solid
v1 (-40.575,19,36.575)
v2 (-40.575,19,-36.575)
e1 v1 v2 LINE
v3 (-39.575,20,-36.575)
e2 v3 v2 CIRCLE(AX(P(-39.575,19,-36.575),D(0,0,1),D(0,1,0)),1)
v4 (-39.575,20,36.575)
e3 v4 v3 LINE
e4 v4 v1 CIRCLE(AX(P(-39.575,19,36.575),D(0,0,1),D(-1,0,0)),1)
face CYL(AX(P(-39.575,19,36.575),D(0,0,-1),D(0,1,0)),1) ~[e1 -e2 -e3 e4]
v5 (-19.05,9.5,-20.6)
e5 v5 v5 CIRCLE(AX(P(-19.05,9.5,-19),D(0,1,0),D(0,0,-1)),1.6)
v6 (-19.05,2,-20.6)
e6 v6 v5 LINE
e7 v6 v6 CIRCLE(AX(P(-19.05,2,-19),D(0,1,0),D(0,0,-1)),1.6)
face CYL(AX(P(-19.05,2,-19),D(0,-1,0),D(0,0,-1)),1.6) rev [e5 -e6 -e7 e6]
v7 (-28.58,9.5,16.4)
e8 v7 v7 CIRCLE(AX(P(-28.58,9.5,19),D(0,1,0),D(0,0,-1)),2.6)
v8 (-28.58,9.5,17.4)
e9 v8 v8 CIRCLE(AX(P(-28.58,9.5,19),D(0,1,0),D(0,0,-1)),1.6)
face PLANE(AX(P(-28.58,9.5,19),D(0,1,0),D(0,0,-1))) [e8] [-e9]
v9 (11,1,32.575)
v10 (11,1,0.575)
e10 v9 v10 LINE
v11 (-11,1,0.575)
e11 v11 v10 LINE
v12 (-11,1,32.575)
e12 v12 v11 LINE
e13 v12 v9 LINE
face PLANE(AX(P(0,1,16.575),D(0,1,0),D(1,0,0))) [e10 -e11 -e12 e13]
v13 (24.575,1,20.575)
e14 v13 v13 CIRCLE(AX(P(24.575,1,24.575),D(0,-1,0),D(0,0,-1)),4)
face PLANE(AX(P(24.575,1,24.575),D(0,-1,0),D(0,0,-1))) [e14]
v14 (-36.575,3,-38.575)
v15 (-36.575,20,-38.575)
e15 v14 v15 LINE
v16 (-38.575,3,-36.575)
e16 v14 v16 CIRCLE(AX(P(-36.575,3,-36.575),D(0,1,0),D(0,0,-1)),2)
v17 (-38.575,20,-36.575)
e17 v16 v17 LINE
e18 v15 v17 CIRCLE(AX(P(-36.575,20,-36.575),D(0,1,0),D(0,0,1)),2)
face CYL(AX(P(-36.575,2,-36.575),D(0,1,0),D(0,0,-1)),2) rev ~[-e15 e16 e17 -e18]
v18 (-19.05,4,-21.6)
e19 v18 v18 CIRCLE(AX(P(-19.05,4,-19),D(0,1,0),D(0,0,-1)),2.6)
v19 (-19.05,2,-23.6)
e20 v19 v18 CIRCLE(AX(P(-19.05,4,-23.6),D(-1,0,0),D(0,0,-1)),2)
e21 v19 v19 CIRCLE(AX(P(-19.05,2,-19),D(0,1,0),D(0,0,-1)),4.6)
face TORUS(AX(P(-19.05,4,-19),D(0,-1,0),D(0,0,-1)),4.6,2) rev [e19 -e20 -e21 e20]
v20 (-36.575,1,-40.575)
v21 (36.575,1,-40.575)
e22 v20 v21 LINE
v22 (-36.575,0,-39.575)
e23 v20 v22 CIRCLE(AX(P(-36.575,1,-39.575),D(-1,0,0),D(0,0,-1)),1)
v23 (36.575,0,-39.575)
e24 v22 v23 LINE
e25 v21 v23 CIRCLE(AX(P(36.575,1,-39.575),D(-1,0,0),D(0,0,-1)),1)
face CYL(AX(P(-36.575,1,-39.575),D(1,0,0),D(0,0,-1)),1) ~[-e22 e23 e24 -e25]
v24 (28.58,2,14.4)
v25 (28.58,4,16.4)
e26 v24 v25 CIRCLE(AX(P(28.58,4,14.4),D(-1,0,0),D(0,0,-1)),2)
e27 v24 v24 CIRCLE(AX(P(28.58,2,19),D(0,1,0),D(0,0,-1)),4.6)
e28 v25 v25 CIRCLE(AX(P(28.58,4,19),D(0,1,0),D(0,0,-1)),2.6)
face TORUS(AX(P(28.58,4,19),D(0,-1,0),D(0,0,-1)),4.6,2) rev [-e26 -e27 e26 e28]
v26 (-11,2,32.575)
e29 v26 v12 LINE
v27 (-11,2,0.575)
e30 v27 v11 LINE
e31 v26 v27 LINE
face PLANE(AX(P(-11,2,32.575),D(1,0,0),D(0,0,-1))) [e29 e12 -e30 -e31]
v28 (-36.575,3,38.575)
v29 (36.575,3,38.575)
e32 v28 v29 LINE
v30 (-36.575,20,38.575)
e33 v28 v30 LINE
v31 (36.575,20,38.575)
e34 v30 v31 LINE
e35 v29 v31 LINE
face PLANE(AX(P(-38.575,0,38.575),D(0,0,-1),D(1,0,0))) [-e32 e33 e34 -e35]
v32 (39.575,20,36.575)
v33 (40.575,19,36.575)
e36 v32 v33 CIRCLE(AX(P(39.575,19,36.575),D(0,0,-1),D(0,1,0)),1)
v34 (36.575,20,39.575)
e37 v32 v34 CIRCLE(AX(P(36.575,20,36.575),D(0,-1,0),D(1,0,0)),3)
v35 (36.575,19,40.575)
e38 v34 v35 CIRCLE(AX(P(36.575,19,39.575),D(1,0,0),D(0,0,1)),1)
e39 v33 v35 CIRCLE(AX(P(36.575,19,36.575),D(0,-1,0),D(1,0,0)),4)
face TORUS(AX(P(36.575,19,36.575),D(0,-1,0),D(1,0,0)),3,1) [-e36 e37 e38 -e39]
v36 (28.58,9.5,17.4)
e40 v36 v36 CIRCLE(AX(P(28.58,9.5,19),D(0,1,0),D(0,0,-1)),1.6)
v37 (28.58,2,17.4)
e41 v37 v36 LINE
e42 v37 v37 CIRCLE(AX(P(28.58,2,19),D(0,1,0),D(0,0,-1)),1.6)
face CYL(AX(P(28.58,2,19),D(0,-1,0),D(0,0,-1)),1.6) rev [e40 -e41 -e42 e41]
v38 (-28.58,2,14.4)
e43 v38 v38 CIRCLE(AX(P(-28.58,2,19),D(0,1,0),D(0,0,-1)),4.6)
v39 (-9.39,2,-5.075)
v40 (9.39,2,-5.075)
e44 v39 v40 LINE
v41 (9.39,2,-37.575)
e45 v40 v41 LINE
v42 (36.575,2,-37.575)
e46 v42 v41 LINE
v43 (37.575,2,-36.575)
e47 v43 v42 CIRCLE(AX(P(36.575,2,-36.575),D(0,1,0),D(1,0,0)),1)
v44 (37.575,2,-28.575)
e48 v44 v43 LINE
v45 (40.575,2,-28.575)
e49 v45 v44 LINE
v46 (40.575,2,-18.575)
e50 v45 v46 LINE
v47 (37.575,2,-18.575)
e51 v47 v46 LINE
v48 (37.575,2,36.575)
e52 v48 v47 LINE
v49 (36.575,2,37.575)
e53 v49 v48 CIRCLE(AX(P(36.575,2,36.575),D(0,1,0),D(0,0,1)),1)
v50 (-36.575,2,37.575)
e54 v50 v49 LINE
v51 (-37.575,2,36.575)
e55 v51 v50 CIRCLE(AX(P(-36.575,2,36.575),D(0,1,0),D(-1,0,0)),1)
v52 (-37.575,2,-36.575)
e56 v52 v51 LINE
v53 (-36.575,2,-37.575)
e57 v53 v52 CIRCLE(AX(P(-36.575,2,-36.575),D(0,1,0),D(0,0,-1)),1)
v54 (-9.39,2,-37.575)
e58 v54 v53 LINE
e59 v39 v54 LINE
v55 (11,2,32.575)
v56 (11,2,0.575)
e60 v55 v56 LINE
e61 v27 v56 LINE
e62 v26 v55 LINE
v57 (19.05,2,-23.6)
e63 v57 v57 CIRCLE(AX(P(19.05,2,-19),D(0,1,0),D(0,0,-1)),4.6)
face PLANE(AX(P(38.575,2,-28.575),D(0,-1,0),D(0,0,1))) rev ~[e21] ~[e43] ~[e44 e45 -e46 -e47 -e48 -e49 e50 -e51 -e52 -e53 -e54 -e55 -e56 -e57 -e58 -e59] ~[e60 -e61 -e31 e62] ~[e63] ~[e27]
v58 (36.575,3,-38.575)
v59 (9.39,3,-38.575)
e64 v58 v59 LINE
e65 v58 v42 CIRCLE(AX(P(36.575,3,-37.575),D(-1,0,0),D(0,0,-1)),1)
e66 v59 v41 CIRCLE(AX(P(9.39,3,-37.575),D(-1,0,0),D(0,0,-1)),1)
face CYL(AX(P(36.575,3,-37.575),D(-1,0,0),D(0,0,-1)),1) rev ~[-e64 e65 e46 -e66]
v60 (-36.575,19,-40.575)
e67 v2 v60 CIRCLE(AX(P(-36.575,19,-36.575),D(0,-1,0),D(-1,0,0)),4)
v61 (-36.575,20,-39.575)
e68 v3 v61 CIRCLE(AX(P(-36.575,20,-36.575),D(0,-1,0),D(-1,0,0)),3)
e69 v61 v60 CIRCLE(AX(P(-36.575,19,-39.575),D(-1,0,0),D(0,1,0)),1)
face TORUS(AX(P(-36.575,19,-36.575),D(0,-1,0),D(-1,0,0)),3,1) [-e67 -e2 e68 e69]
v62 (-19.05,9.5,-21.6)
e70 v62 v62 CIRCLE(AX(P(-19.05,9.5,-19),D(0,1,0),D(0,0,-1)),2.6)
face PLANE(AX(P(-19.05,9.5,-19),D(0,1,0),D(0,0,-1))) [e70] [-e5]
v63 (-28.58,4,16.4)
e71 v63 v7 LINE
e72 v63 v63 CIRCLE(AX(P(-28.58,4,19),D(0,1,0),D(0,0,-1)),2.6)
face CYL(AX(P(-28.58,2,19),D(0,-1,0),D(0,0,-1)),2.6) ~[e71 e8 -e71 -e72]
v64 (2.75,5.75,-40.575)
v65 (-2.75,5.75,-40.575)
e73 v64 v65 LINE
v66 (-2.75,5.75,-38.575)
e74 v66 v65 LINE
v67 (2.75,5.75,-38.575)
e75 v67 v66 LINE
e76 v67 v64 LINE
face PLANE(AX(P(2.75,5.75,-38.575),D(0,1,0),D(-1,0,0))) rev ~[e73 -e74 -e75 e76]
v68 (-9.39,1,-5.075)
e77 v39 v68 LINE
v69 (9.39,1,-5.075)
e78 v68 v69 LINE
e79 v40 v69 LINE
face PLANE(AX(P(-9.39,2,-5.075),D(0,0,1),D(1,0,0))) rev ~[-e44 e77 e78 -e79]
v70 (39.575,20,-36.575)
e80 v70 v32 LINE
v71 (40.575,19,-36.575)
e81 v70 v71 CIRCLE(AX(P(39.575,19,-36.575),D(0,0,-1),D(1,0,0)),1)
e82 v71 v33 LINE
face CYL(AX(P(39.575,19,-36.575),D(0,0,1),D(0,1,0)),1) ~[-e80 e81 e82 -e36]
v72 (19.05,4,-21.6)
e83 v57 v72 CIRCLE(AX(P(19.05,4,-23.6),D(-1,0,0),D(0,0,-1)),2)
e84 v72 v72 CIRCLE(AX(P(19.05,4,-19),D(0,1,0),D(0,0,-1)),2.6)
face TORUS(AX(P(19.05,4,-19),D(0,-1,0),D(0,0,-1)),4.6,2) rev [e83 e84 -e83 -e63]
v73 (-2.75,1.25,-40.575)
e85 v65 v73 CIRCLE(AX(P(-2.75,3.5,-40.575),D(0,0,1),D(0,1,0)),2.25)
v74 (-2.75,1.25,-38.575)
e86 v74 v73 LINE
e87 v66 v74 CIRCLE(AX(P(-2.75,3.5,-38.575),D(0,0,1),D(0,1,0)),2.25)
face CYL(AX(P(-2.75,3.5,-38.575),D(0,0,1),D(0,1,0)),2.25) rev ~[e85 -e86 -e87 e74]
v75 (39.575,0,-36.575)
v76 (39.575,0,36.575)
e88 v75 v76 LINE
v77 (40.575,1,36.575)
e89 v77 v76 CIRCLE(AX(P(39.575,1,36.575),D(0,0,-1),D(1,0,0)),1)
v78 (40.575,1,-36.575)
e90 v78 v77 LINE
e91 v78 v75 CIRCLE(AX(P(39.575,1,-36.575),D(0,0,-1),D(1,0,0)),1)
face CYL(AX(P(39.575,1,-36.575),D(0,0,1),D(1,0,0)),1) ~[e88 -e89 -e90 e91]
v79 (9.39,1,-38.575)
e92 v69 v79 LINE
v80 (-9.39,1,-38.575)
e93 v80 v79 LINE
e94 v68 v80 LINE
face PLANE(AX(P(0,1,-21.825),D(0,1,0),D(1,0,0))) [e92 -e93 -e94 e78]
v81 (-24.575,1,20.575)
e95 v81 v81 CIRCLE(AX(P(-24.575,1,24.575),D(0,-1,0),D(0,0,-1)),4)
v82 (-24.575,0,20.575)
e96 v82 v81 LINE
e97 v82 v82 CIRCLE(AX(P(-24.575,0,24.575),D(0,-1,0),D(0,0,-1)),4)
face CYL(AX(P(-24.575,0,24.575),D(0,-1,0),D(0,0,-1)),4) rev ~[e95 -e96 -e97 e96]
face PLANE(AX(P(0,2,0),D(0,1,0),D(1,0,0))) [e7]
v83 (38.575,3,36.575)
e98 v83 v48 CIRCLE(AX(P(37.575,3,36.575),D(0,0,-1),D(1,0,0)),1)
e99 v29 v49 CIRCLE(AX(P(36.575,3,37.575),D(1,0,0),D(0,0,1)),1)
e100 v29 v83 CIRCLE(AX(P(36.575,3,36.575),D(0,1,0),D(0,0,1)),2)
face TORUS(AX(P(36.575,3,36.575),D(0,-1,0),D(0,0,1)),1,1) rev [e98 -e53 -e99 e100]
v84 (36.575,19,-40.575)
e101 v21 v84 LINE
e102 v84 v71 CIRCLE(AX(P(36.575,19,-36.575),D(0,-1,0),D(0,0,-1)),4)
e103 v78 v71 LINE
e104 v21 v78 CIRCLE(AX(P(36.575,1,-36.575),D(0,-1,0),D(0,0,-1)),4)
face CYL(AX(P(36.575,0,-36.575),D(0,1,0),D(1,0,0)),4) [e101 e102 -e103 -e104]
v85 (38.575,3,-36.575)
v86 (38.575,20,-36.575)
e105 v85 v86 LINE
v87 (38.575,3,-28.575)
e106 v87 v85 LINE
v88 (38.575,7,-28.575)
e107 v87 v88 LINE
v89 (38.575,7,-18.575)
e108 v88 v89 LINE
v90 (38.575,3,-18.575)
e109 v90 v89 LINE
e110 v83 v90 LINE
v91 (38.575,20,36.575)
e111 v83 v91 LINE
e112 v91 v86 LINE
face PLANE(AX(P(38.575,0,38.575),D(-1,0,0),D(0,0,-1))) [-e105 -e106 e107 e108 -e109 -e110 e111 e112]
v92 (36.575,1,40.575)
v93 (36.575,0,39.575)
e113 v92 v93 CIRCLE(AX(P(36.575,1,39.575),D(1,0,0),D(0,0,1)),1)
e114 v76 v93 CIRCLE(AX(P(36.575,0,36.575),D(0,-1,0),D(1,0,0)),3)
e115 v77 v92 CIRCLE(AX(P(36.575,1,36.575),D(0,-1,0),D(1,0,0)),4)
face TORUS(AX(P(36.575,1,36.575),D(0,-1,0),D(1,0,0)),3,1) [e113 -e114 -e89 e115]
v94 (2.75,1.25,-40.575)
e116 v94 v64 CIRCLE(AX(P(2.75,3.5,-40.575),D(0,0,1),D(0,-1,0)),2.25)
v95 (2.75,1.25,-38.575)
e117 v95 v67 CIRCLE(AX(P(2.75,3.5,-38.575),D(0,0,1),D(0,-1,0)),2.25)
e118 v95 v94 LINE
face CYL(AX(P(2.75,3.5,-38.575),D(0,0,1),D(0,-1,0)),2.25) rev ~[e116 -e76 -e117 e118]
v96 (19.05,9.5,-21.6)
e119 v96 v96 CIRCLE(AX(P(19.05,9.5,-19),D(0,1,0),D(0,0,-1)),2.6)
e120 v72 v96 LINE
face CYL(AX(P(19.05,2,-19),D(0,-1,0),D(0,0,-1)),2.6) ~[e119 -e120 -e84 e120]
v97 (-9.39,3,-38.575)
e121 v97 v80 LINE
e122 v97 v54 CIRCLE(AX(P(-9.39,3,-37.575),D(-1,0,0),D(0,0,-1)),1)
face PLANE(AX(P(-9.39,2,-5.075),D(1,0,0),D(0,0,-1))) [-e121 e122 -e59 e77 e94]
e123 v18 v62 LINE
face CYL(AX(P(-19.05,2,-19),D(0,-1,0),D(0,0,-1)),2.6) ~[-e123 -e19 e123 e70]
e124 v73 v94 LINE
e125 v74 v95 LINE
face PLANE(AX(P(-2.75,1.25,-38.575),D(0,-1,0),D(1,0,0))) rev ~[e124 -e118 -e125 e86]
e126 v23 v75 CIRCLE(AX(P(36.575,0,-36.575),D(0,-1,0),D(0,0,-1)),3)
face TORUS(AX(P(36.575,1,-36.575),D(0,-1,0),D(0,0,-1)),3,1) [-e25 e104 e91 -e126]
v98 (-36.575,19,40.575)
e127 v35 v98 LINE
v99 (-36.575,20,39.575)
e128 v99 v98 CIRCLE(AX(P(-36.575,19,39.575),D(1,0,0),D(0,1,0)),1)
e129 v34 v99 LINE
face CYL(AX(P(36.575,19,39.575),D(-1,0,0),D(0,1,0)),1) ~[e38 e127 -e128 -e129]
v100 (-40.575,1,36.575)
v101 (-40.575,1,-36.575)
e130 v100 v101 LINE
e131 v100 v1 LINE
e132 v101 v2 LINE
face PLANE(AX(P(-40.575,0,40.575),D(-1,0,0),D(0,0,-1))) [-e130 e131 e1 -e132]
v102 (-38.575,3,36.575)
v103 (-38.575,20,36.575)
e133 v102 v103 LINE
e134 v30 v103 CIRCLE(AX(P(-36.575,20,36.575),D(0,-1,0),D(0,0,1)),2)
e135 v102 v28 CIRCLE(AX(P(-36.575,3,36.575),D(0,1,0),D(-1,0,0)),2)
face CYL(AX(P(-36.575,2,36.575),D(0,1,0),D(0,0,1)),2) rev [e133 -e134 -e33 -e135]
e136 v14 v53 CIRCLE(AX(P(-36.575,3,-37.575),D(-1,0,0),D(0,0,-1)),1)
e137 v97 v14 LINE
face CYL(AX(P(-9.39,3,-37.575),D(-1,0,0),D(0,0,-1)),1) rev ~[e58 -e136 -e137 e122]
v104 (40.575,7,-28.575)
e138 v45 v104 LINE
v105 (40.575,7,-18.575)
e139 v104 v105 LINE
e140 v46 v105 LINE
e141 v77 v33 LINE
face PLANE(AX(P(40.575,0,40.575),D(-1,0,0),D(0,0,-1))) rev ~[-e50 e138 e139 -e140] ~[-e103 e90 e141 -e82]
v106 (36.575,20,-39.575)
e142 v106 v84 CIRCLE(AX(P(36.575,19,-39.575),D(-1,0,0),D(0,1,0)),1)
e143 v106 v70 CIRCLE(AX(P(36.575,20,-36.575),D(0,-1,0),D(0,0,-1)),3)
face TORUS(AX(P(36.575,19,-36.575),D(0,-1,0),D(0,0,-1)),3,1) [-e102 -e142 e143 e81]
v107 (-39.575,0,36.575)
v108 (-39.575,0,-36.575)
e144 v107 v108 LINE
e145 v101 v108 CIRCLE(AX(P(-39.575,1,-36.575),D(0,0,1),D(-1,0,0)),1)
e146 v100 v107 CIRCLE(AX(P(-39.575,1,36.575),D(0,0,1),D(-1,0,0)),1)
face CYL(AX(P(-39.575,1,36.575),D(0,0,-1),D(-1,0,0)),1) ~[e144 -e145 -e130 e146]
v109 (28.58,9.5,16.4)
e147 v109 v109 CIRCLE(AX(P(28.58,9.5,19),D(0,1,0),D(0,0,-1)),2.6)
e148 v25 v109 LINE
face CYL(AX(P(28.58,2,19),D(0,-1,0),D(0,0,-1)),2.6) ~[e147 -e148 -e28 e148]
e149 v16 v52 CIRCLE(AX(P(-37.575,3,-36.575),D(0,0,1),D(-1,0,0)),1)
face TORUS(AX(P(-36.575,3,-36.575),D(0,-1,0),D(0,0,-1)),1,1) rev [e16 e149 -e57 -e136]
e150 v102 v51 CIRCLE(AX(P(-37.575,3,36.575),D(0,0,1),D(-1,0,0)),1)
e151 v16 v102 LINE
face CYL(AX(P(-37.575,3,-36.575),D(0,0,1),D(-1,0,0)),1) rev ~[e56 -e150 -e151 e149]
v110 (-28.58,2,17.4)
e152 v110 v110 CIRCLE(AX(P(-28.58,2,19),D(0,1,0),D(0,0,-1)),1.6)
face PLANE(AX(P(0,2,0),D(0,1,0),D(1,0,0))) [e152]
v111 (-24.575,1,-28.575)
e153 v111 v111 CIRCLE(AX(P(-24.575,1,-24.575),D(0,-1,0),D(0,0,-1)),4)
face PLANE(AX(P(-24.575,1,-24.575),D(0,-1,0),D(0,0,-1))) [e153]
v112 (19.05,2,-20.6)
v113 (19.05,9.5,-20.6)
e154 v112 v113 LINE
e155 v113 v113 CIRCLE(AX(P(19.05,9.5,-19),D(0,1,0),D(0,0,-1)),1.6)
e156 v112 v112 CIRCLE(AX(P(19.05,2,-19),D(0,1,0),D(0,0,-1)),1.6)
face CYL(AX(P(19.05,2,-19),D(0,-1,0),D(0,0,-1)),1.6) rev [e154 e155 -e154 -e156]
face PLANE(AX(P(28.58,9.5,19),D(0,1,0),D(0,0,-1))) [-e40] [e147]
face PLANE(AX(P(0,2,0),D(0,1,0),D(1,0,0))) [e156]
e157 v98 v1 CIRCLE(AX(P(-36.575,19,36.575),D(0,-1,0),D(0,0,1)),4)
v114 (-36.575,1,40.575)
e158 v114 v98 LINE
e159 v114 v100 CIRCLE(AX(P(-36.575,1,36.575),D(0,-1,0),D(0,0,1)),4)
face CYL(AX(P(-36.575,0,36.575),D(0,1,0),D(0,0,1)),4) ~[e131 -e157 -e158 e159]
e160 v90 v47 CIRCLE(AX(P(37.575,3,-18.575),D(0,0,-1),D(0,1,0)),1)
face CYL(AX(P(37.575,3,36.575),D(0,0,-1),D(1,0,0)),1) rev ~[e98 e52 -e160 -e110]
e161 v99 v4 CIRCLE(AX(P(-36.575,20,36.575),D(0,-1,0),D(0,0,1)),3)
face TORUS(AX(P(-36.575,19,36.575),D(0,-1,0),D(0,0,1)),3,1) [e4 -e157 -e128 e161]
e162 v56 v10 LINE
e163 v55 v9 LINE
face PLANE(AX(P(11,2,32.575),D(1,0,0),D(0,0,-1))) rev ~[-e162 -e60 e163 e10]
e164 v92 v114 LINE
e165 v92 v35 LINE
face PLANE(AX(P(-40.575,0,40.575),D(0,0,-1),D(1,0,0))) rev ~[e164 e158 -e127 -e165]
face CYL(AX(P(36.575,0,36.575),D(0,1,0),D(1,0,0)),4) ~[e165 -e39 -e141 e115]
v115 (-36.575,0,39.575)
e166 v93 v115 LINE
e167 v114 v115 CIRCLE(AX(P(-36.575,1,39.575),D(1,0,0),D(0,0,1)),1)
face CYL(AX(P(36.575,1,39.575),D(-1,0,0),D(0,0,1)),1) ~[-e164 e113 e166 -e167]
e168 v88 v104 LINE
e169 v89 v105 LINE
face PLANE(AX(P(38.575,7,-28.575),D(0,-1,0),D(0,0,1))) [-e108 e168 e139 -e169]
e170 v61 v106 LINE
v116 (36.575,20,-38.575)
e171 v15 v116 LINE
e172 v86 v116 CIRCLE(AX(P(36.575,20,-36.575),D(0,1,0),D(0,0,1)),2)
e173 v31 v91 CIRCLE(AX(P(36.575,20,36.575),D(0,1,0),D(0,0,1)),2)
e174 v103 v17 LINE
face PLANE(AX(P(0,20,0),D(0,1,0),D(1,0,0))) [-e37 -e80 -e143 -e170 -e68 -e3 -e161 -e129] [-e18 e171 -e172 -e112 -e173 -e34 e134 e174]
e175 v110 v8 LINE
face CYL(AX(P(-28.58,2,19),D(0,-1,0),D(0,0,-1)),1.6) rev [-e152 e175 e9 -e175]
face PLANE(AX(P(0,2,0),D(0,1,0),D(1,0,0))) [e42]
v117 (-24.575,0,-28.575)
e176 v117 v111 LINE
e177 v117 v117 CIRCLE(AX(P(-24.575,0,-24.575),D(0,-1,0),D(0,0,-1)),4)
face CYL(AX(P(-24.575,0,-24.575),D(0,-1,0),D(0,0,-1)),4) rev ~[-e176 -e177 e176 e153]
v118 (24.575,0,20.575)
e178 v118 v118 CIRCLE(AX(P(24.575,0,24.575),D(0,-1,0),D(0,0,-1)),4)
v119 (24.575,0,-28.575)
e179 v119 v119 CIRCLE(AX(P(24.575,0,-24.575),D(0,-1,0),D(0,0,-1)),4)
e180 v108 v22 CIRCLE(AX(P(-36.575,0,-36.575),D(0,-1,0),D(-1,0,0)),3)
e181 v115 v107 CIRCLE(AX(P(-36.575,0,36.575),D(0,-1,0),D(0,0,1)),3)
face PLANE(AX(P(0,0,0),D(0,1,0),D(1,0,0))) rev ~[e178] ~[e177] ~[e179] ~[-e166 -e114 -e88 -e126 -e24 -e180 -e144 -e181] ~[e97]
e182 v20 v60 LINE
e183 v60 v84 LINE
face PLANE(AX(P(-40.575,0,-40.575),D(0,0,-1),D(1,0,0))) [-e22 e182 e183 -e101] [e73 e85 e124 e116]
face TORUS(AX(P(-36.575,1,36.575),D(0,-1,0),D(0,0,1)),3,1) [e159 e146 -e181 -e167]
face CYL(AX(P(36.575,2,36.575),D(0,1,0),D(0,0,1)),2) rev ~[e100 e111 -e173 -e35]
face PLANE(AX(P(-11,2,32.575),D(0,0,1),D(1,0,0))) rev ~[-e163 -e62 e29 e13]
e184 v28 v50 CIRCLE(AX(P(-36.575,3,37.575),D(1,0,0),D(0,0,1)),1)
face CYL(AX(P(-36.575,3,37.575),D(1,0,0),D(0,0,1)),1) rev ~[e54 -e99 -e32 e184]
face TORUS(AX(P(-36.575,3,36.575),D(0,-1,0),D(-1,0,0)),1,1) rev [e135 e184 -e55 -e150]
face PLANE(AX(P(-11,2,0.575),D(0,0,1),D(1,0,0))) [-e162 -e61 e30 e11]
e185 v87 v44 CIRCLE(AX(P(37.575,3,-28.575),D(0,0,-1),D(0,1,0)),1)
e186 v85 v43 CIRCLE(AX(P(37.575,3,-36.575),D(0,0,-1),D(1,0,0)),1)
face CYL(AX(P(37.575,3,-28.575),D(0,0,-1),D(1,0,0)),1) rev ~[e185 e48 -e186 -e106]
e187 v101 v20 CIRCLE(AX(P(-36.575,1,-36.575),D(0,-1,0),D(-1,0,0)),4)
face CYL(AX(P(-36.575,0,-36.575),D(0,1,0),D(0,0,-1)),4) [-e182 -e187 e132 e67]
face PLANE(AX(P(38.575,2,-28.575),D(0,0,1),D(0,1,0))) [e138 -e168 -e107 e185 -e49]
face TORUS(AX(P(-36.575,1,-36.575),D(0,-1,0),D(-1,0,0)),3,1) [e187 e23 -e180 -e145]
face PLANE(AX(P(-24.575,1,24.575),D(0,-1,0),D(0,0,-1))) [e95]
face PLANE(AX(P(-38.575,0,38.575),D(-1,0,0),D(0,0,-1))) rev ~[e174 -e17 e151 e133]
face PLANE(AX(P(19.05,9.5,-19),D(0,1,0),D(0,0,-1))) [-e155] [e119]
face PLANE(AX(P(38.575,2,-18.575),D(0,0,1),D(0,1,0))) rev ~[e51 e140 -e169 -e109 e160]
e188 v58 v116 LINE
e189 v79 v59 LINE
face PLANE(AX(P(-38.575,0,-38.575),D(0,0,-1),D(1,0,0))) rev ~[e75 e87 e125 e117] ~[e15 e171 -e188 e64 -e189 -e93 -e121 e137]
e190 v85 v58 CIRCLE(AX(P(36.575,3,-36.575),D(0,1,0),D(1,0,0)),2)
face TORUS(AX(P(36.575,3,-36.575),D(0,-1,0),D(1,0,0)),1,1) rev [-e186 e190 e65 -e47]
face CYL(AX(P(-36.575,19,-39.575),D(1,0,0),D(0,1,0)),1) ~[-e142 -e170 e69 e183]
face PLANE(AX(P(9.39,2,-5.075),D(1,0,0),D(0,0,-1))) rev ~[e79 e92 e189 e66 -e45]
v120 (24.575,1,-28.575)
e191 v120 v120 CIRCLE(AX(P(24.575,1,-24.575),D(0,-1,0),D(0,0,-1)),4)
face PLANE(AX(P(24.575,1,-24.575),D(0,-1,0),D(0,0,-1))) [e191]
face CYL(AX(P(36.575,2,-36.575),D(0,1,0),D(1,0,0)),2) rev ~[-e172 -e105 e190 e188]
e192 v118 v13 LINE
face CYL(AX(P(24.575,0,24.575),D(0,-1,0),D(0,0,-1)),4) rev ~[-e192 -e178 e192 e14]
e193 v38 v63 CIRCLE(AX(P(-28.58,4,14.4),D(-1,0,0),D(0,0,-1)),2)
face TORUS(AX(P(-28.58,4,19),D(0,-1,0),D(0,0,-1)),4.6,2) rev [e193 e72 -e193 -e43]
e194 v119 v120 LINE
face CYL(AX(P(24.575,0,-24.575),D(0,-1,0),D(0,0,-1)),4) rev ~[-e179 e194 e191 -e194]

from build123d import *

# Parameters (mm, degrees)
SKETCH1_W           = 77.15
SKETCH1_H           = 77.15
BOSS_EXTRUDE1_DEPTH = 2
SKETCH2_W           = 81.15
SKETCH2_H           = 81.15
SKETCH2_W_2         = 77.15
SKETCH2_H_2         = 77.15
BOSS_EXTRUDE2_DEPTH = 20
SKETCH3_R           = 2.6
SKETCH3_R_2         = 1.6
BOSS_EXTRUDE4_DEPTH = 7.5
SKETCH18_W          = 22
SKETCH18_H          = 32
SKETCH18_W_2        = 18.78
SKETCH18_H_2        = 33.5
CUT_EXTRUDE4_DEPTH  = 1
SKETCH7_R           = 4
CUT_EXTRUDE1_DEPTH  = 1
CUT_EXTRUDE2_DEPTH  = 2
SKETCH16_W          = 10
SKETCH16_H          = 5
CUT_EXTRUDE3_DEPTH  = 2
FILLET1_R           = 2
FILLET6_R           = 4
FILLET7_R           = 2
FILLET5_R           = 1
FILLET9_R           = 1


with BuildPart() as part:
    # Sketch1 → Boss-Extrude1 (new body)
    with BuildSketch(Plane(origin=(0, 0, 0), x_dir=(1, 0, 0), z_dir=(0, 1, 0))):
        Rectangle(SKETCH1_W, SKETCH1_H)
    extrude(amount=BOSS_EXTRUDE1_DEPTH)

    # Sketch2 → Boss-Extrude2 (add)
    with BuildSketch(Plane(origin=(0, 0, 0), x_dir=(1, 0, 0), z_dir=(0, 1, 0))):
        Rectangle(SKETCH2_W, SKETCH2_H)
        Rectangle(SKETCH2_W_2, SKETCH2_H_2, mode=Mode.SUBTRACT)
    extrude(amount=BOSS_EXTRUDE2_DEPTH)

    # Sketch3 → Boss-Extrude4 (add)
    # profile 1 of 4: a face of its own
    with BuildSketch(Plane(origin=(0, 2, 0), x_dir=(1, 0, 0), z_dir=(0, 1, 0))):
        with Locations(Location((-28.58, -19, 0), (0, 0, 90))):
            Circle(SKETCH3_R)
        with Locations(Location((-28.58, -19, 0), (0, 0, 90))):
            Circle(SKETCH3_R_2, mode=Mode.SUBTRACT)
    # profile 2 of 4: a face of its own
    with BuildSketch(Plane(origin=(0, 2, 0), x_dir=(1, 0, 0), z_dir=(0, 1, 0))):
        with Locations(Location((-19.05, 19, 0), (0, 0, 90))):
            Circle(SKETCH3_R)
        with Locations(Location((-19.05, 19, 0), (0, 0, 90))):
            Circle(SKETCH3_R_2, mode=Mode.SUBTRACT)
    # profile 3 of 4: a face of its own
    with BuildSketch(Plane(origin=(0, 2, 0), x_dir=(1, 0, 0), z_dir=(0, 1, 0))):
        with Locations(Location((28.58, -19, 0), (0, 0, 90))):
            Circle(SKETCH3_R)
        with Locations(Location((28.58, -19, 0), (0, 0, 90))):
            Circle(SKETCH3_R_2, mode=Mode.SUBTRACT)
    # profile 4 of 4: a face of its own
    with BuildSketch(Plane(origin=(0, 2, 0), x_dir=(1, 0, 0), z_dir=(0, 1, 0))):
        with Locations(Location((19.05, 19, 0), (0, 0, 90))):
            Circle(SKETCH3_R)
        with Locations(Location((19.05, 19, 0), (0, 0, 90))):
            Circle(SKETCH3_R_2, mode=Mode.SUBTRACT)
    extrude(amount=BOSS_EXTRUDE4_DEPTH)

    # Sketch18 → Cut-Extrude4 (cut)
    with BuildSketch(Plane(origin=(0, 2, 0), x_dir=(1, 0, 0), z_dir=(0, 1, 0))):
        with Locations((0, -16.575)):
            Rectangle(SKETCH18_W, SKETCH18_H)
        with Locations((0, 21.825)):
            Rectangle(SKETCH18_W_2, SKETCH18_H_2)
    extrude(amount=-CUT_EXTRUDE4_DEPTH, mode=Mode.SUBTRACT)

    # Sketch7 → Cut-Extrude1 (cut)
    with BuildSketch(Plane.XZ):
        with Locations(Location((-24.575, -24.575, 0), (0, 0, 270))):
            Circle(SKETCH7_R)
        with Locations(Location((-24.575, 24.575, 0), (0, 0, 270))):
            Circle(SKETCH7_R)
        with Locations(Location((24.575, 24.575, 0), (0, 0, 270))):
            Circle(SKETCH7_R)
        with Locations(Location((24.575, -24.575, 0), (0, 0, 270))):
            Circle(SKETCH7_R)
    extrude(amount=-CUT_EXTRUDE1_DEPTH, mode=Mode.SUBTRACT)

    # Sketch10 → Cut-Extrude2 (cut)
    with BuildSketch(Plane(origin=(0, 0, -38.575), x_dir=(-1, 0, 0), z_dir=(0, 0, -1))):
        with BuildLine():
            Line((-2.75, 5.75), (2.75, 5.75))
            ThreePointArc((2.75, 5.75), (5, 3.5), (2.75, 1.25))
            Line((2.75, 1.25), (-2.75, 1.25))
            ThreePointArc((-2.75, 1.25), (-5, 3.5), (-2.75, 5.75))
        make_face()
    extrude(amount=CUT_EXTRUDE2_DEPTH, mode=Mode.SUBTRACT)

    # Sketch16 → Cut-Extrude3 (cut)
    with BuildSketch(Plane.ZY.offset(-38.575)):
        with Locations((-23.575, 4.5)):
            Rectangle(SKETCH16_W, SKETCH16_H)
    extrude(amount=-CUT_EXTRUDE3_DEPTH, mode=Mode.SUBTRACT)

    # Fillet1
    fillet1_edges = [part.edges().sort_by_distance(p)[0] for p in [
        (28.58, 2, 21.6),
        (19.05, 2, -16.4),
        (-28.58, 2, 21.6),
        (-19.05, 2, -16.4),
    ]]
    fillet(fillet1_edges, radius=FILLET1_R)

    # Fillet6
    fillet6_edges = [part.edges().sort_by_distance(p)[0] for p in [
        (-40.575, 10, 40.575),
        (40.575, 10, 40.575),
        (40.575, 10, -40.575),
        (-40.575, 10, -40.575),
    ]]
    fillet(fillet6_edges, radius=FILLET6_R)

    # Fillet7
    fillet7_edges = [part.edges().sort_by_distance(p)[0] for p in [
        (38.575, 11, 38.575),
        (38.575, 11, -38.575),
        (-38.575, 11, -38.575),
        (-38.575, 11, 38.575),
    ]]
    fillet(fillet7_edges, radius=FILLET7_R)

    # Fillet5
    fillet5_edges = [part.edges().sort_by_distance(p)[0] for p in [
        (0, 0, -40.575),
        (0, 20, -40.575),
        (0, 0, 40.575),
        (-40.575, 0, 0),
        (40.575, 0, 0),
        (39.403427125, 0, 39.403427125),
        (-39.403427125, 0, 39.403427125),
        (-39.403427125, 0, -39.403427125),
        (39.403427125, 0, -39.403427125),
        (40.575, 20, 0),
        (0, 20, 40.575),
        (-40.575, 20, 0),
        (39.403427125, 20, 39.403427125),
        (-39.403427125, 20, 39.403427125),
        (-39.403427125, 20, -39.403427125),
        (39.403427125, 20, -39.403427125),
    ]]
    fillet(fillet5_edges, radius=FILLET5_R)

    # Fillet9
    fillet9_edges = [part.edges().sort_by_distance(p)[0] for p in [
        (38.575, 2, -32.575),
        (38.575, 2, 9),
        (-38.575, 2, 0),
        (0, 2, 38.575),
        (22.9825, 2, -38.575),
        (37.989213562, 2, 37.989213562),
        (-37.989213562, 2, 37.989213562),
        (-37.989213562, 2, -37.989213562),
        (37.989213562, 2, -37.989213562),
        (-22.9825, 2, -38.575),
    ]]
    fillet(fillet9_edges, radius=FILLET9_R)


solid = part.part
